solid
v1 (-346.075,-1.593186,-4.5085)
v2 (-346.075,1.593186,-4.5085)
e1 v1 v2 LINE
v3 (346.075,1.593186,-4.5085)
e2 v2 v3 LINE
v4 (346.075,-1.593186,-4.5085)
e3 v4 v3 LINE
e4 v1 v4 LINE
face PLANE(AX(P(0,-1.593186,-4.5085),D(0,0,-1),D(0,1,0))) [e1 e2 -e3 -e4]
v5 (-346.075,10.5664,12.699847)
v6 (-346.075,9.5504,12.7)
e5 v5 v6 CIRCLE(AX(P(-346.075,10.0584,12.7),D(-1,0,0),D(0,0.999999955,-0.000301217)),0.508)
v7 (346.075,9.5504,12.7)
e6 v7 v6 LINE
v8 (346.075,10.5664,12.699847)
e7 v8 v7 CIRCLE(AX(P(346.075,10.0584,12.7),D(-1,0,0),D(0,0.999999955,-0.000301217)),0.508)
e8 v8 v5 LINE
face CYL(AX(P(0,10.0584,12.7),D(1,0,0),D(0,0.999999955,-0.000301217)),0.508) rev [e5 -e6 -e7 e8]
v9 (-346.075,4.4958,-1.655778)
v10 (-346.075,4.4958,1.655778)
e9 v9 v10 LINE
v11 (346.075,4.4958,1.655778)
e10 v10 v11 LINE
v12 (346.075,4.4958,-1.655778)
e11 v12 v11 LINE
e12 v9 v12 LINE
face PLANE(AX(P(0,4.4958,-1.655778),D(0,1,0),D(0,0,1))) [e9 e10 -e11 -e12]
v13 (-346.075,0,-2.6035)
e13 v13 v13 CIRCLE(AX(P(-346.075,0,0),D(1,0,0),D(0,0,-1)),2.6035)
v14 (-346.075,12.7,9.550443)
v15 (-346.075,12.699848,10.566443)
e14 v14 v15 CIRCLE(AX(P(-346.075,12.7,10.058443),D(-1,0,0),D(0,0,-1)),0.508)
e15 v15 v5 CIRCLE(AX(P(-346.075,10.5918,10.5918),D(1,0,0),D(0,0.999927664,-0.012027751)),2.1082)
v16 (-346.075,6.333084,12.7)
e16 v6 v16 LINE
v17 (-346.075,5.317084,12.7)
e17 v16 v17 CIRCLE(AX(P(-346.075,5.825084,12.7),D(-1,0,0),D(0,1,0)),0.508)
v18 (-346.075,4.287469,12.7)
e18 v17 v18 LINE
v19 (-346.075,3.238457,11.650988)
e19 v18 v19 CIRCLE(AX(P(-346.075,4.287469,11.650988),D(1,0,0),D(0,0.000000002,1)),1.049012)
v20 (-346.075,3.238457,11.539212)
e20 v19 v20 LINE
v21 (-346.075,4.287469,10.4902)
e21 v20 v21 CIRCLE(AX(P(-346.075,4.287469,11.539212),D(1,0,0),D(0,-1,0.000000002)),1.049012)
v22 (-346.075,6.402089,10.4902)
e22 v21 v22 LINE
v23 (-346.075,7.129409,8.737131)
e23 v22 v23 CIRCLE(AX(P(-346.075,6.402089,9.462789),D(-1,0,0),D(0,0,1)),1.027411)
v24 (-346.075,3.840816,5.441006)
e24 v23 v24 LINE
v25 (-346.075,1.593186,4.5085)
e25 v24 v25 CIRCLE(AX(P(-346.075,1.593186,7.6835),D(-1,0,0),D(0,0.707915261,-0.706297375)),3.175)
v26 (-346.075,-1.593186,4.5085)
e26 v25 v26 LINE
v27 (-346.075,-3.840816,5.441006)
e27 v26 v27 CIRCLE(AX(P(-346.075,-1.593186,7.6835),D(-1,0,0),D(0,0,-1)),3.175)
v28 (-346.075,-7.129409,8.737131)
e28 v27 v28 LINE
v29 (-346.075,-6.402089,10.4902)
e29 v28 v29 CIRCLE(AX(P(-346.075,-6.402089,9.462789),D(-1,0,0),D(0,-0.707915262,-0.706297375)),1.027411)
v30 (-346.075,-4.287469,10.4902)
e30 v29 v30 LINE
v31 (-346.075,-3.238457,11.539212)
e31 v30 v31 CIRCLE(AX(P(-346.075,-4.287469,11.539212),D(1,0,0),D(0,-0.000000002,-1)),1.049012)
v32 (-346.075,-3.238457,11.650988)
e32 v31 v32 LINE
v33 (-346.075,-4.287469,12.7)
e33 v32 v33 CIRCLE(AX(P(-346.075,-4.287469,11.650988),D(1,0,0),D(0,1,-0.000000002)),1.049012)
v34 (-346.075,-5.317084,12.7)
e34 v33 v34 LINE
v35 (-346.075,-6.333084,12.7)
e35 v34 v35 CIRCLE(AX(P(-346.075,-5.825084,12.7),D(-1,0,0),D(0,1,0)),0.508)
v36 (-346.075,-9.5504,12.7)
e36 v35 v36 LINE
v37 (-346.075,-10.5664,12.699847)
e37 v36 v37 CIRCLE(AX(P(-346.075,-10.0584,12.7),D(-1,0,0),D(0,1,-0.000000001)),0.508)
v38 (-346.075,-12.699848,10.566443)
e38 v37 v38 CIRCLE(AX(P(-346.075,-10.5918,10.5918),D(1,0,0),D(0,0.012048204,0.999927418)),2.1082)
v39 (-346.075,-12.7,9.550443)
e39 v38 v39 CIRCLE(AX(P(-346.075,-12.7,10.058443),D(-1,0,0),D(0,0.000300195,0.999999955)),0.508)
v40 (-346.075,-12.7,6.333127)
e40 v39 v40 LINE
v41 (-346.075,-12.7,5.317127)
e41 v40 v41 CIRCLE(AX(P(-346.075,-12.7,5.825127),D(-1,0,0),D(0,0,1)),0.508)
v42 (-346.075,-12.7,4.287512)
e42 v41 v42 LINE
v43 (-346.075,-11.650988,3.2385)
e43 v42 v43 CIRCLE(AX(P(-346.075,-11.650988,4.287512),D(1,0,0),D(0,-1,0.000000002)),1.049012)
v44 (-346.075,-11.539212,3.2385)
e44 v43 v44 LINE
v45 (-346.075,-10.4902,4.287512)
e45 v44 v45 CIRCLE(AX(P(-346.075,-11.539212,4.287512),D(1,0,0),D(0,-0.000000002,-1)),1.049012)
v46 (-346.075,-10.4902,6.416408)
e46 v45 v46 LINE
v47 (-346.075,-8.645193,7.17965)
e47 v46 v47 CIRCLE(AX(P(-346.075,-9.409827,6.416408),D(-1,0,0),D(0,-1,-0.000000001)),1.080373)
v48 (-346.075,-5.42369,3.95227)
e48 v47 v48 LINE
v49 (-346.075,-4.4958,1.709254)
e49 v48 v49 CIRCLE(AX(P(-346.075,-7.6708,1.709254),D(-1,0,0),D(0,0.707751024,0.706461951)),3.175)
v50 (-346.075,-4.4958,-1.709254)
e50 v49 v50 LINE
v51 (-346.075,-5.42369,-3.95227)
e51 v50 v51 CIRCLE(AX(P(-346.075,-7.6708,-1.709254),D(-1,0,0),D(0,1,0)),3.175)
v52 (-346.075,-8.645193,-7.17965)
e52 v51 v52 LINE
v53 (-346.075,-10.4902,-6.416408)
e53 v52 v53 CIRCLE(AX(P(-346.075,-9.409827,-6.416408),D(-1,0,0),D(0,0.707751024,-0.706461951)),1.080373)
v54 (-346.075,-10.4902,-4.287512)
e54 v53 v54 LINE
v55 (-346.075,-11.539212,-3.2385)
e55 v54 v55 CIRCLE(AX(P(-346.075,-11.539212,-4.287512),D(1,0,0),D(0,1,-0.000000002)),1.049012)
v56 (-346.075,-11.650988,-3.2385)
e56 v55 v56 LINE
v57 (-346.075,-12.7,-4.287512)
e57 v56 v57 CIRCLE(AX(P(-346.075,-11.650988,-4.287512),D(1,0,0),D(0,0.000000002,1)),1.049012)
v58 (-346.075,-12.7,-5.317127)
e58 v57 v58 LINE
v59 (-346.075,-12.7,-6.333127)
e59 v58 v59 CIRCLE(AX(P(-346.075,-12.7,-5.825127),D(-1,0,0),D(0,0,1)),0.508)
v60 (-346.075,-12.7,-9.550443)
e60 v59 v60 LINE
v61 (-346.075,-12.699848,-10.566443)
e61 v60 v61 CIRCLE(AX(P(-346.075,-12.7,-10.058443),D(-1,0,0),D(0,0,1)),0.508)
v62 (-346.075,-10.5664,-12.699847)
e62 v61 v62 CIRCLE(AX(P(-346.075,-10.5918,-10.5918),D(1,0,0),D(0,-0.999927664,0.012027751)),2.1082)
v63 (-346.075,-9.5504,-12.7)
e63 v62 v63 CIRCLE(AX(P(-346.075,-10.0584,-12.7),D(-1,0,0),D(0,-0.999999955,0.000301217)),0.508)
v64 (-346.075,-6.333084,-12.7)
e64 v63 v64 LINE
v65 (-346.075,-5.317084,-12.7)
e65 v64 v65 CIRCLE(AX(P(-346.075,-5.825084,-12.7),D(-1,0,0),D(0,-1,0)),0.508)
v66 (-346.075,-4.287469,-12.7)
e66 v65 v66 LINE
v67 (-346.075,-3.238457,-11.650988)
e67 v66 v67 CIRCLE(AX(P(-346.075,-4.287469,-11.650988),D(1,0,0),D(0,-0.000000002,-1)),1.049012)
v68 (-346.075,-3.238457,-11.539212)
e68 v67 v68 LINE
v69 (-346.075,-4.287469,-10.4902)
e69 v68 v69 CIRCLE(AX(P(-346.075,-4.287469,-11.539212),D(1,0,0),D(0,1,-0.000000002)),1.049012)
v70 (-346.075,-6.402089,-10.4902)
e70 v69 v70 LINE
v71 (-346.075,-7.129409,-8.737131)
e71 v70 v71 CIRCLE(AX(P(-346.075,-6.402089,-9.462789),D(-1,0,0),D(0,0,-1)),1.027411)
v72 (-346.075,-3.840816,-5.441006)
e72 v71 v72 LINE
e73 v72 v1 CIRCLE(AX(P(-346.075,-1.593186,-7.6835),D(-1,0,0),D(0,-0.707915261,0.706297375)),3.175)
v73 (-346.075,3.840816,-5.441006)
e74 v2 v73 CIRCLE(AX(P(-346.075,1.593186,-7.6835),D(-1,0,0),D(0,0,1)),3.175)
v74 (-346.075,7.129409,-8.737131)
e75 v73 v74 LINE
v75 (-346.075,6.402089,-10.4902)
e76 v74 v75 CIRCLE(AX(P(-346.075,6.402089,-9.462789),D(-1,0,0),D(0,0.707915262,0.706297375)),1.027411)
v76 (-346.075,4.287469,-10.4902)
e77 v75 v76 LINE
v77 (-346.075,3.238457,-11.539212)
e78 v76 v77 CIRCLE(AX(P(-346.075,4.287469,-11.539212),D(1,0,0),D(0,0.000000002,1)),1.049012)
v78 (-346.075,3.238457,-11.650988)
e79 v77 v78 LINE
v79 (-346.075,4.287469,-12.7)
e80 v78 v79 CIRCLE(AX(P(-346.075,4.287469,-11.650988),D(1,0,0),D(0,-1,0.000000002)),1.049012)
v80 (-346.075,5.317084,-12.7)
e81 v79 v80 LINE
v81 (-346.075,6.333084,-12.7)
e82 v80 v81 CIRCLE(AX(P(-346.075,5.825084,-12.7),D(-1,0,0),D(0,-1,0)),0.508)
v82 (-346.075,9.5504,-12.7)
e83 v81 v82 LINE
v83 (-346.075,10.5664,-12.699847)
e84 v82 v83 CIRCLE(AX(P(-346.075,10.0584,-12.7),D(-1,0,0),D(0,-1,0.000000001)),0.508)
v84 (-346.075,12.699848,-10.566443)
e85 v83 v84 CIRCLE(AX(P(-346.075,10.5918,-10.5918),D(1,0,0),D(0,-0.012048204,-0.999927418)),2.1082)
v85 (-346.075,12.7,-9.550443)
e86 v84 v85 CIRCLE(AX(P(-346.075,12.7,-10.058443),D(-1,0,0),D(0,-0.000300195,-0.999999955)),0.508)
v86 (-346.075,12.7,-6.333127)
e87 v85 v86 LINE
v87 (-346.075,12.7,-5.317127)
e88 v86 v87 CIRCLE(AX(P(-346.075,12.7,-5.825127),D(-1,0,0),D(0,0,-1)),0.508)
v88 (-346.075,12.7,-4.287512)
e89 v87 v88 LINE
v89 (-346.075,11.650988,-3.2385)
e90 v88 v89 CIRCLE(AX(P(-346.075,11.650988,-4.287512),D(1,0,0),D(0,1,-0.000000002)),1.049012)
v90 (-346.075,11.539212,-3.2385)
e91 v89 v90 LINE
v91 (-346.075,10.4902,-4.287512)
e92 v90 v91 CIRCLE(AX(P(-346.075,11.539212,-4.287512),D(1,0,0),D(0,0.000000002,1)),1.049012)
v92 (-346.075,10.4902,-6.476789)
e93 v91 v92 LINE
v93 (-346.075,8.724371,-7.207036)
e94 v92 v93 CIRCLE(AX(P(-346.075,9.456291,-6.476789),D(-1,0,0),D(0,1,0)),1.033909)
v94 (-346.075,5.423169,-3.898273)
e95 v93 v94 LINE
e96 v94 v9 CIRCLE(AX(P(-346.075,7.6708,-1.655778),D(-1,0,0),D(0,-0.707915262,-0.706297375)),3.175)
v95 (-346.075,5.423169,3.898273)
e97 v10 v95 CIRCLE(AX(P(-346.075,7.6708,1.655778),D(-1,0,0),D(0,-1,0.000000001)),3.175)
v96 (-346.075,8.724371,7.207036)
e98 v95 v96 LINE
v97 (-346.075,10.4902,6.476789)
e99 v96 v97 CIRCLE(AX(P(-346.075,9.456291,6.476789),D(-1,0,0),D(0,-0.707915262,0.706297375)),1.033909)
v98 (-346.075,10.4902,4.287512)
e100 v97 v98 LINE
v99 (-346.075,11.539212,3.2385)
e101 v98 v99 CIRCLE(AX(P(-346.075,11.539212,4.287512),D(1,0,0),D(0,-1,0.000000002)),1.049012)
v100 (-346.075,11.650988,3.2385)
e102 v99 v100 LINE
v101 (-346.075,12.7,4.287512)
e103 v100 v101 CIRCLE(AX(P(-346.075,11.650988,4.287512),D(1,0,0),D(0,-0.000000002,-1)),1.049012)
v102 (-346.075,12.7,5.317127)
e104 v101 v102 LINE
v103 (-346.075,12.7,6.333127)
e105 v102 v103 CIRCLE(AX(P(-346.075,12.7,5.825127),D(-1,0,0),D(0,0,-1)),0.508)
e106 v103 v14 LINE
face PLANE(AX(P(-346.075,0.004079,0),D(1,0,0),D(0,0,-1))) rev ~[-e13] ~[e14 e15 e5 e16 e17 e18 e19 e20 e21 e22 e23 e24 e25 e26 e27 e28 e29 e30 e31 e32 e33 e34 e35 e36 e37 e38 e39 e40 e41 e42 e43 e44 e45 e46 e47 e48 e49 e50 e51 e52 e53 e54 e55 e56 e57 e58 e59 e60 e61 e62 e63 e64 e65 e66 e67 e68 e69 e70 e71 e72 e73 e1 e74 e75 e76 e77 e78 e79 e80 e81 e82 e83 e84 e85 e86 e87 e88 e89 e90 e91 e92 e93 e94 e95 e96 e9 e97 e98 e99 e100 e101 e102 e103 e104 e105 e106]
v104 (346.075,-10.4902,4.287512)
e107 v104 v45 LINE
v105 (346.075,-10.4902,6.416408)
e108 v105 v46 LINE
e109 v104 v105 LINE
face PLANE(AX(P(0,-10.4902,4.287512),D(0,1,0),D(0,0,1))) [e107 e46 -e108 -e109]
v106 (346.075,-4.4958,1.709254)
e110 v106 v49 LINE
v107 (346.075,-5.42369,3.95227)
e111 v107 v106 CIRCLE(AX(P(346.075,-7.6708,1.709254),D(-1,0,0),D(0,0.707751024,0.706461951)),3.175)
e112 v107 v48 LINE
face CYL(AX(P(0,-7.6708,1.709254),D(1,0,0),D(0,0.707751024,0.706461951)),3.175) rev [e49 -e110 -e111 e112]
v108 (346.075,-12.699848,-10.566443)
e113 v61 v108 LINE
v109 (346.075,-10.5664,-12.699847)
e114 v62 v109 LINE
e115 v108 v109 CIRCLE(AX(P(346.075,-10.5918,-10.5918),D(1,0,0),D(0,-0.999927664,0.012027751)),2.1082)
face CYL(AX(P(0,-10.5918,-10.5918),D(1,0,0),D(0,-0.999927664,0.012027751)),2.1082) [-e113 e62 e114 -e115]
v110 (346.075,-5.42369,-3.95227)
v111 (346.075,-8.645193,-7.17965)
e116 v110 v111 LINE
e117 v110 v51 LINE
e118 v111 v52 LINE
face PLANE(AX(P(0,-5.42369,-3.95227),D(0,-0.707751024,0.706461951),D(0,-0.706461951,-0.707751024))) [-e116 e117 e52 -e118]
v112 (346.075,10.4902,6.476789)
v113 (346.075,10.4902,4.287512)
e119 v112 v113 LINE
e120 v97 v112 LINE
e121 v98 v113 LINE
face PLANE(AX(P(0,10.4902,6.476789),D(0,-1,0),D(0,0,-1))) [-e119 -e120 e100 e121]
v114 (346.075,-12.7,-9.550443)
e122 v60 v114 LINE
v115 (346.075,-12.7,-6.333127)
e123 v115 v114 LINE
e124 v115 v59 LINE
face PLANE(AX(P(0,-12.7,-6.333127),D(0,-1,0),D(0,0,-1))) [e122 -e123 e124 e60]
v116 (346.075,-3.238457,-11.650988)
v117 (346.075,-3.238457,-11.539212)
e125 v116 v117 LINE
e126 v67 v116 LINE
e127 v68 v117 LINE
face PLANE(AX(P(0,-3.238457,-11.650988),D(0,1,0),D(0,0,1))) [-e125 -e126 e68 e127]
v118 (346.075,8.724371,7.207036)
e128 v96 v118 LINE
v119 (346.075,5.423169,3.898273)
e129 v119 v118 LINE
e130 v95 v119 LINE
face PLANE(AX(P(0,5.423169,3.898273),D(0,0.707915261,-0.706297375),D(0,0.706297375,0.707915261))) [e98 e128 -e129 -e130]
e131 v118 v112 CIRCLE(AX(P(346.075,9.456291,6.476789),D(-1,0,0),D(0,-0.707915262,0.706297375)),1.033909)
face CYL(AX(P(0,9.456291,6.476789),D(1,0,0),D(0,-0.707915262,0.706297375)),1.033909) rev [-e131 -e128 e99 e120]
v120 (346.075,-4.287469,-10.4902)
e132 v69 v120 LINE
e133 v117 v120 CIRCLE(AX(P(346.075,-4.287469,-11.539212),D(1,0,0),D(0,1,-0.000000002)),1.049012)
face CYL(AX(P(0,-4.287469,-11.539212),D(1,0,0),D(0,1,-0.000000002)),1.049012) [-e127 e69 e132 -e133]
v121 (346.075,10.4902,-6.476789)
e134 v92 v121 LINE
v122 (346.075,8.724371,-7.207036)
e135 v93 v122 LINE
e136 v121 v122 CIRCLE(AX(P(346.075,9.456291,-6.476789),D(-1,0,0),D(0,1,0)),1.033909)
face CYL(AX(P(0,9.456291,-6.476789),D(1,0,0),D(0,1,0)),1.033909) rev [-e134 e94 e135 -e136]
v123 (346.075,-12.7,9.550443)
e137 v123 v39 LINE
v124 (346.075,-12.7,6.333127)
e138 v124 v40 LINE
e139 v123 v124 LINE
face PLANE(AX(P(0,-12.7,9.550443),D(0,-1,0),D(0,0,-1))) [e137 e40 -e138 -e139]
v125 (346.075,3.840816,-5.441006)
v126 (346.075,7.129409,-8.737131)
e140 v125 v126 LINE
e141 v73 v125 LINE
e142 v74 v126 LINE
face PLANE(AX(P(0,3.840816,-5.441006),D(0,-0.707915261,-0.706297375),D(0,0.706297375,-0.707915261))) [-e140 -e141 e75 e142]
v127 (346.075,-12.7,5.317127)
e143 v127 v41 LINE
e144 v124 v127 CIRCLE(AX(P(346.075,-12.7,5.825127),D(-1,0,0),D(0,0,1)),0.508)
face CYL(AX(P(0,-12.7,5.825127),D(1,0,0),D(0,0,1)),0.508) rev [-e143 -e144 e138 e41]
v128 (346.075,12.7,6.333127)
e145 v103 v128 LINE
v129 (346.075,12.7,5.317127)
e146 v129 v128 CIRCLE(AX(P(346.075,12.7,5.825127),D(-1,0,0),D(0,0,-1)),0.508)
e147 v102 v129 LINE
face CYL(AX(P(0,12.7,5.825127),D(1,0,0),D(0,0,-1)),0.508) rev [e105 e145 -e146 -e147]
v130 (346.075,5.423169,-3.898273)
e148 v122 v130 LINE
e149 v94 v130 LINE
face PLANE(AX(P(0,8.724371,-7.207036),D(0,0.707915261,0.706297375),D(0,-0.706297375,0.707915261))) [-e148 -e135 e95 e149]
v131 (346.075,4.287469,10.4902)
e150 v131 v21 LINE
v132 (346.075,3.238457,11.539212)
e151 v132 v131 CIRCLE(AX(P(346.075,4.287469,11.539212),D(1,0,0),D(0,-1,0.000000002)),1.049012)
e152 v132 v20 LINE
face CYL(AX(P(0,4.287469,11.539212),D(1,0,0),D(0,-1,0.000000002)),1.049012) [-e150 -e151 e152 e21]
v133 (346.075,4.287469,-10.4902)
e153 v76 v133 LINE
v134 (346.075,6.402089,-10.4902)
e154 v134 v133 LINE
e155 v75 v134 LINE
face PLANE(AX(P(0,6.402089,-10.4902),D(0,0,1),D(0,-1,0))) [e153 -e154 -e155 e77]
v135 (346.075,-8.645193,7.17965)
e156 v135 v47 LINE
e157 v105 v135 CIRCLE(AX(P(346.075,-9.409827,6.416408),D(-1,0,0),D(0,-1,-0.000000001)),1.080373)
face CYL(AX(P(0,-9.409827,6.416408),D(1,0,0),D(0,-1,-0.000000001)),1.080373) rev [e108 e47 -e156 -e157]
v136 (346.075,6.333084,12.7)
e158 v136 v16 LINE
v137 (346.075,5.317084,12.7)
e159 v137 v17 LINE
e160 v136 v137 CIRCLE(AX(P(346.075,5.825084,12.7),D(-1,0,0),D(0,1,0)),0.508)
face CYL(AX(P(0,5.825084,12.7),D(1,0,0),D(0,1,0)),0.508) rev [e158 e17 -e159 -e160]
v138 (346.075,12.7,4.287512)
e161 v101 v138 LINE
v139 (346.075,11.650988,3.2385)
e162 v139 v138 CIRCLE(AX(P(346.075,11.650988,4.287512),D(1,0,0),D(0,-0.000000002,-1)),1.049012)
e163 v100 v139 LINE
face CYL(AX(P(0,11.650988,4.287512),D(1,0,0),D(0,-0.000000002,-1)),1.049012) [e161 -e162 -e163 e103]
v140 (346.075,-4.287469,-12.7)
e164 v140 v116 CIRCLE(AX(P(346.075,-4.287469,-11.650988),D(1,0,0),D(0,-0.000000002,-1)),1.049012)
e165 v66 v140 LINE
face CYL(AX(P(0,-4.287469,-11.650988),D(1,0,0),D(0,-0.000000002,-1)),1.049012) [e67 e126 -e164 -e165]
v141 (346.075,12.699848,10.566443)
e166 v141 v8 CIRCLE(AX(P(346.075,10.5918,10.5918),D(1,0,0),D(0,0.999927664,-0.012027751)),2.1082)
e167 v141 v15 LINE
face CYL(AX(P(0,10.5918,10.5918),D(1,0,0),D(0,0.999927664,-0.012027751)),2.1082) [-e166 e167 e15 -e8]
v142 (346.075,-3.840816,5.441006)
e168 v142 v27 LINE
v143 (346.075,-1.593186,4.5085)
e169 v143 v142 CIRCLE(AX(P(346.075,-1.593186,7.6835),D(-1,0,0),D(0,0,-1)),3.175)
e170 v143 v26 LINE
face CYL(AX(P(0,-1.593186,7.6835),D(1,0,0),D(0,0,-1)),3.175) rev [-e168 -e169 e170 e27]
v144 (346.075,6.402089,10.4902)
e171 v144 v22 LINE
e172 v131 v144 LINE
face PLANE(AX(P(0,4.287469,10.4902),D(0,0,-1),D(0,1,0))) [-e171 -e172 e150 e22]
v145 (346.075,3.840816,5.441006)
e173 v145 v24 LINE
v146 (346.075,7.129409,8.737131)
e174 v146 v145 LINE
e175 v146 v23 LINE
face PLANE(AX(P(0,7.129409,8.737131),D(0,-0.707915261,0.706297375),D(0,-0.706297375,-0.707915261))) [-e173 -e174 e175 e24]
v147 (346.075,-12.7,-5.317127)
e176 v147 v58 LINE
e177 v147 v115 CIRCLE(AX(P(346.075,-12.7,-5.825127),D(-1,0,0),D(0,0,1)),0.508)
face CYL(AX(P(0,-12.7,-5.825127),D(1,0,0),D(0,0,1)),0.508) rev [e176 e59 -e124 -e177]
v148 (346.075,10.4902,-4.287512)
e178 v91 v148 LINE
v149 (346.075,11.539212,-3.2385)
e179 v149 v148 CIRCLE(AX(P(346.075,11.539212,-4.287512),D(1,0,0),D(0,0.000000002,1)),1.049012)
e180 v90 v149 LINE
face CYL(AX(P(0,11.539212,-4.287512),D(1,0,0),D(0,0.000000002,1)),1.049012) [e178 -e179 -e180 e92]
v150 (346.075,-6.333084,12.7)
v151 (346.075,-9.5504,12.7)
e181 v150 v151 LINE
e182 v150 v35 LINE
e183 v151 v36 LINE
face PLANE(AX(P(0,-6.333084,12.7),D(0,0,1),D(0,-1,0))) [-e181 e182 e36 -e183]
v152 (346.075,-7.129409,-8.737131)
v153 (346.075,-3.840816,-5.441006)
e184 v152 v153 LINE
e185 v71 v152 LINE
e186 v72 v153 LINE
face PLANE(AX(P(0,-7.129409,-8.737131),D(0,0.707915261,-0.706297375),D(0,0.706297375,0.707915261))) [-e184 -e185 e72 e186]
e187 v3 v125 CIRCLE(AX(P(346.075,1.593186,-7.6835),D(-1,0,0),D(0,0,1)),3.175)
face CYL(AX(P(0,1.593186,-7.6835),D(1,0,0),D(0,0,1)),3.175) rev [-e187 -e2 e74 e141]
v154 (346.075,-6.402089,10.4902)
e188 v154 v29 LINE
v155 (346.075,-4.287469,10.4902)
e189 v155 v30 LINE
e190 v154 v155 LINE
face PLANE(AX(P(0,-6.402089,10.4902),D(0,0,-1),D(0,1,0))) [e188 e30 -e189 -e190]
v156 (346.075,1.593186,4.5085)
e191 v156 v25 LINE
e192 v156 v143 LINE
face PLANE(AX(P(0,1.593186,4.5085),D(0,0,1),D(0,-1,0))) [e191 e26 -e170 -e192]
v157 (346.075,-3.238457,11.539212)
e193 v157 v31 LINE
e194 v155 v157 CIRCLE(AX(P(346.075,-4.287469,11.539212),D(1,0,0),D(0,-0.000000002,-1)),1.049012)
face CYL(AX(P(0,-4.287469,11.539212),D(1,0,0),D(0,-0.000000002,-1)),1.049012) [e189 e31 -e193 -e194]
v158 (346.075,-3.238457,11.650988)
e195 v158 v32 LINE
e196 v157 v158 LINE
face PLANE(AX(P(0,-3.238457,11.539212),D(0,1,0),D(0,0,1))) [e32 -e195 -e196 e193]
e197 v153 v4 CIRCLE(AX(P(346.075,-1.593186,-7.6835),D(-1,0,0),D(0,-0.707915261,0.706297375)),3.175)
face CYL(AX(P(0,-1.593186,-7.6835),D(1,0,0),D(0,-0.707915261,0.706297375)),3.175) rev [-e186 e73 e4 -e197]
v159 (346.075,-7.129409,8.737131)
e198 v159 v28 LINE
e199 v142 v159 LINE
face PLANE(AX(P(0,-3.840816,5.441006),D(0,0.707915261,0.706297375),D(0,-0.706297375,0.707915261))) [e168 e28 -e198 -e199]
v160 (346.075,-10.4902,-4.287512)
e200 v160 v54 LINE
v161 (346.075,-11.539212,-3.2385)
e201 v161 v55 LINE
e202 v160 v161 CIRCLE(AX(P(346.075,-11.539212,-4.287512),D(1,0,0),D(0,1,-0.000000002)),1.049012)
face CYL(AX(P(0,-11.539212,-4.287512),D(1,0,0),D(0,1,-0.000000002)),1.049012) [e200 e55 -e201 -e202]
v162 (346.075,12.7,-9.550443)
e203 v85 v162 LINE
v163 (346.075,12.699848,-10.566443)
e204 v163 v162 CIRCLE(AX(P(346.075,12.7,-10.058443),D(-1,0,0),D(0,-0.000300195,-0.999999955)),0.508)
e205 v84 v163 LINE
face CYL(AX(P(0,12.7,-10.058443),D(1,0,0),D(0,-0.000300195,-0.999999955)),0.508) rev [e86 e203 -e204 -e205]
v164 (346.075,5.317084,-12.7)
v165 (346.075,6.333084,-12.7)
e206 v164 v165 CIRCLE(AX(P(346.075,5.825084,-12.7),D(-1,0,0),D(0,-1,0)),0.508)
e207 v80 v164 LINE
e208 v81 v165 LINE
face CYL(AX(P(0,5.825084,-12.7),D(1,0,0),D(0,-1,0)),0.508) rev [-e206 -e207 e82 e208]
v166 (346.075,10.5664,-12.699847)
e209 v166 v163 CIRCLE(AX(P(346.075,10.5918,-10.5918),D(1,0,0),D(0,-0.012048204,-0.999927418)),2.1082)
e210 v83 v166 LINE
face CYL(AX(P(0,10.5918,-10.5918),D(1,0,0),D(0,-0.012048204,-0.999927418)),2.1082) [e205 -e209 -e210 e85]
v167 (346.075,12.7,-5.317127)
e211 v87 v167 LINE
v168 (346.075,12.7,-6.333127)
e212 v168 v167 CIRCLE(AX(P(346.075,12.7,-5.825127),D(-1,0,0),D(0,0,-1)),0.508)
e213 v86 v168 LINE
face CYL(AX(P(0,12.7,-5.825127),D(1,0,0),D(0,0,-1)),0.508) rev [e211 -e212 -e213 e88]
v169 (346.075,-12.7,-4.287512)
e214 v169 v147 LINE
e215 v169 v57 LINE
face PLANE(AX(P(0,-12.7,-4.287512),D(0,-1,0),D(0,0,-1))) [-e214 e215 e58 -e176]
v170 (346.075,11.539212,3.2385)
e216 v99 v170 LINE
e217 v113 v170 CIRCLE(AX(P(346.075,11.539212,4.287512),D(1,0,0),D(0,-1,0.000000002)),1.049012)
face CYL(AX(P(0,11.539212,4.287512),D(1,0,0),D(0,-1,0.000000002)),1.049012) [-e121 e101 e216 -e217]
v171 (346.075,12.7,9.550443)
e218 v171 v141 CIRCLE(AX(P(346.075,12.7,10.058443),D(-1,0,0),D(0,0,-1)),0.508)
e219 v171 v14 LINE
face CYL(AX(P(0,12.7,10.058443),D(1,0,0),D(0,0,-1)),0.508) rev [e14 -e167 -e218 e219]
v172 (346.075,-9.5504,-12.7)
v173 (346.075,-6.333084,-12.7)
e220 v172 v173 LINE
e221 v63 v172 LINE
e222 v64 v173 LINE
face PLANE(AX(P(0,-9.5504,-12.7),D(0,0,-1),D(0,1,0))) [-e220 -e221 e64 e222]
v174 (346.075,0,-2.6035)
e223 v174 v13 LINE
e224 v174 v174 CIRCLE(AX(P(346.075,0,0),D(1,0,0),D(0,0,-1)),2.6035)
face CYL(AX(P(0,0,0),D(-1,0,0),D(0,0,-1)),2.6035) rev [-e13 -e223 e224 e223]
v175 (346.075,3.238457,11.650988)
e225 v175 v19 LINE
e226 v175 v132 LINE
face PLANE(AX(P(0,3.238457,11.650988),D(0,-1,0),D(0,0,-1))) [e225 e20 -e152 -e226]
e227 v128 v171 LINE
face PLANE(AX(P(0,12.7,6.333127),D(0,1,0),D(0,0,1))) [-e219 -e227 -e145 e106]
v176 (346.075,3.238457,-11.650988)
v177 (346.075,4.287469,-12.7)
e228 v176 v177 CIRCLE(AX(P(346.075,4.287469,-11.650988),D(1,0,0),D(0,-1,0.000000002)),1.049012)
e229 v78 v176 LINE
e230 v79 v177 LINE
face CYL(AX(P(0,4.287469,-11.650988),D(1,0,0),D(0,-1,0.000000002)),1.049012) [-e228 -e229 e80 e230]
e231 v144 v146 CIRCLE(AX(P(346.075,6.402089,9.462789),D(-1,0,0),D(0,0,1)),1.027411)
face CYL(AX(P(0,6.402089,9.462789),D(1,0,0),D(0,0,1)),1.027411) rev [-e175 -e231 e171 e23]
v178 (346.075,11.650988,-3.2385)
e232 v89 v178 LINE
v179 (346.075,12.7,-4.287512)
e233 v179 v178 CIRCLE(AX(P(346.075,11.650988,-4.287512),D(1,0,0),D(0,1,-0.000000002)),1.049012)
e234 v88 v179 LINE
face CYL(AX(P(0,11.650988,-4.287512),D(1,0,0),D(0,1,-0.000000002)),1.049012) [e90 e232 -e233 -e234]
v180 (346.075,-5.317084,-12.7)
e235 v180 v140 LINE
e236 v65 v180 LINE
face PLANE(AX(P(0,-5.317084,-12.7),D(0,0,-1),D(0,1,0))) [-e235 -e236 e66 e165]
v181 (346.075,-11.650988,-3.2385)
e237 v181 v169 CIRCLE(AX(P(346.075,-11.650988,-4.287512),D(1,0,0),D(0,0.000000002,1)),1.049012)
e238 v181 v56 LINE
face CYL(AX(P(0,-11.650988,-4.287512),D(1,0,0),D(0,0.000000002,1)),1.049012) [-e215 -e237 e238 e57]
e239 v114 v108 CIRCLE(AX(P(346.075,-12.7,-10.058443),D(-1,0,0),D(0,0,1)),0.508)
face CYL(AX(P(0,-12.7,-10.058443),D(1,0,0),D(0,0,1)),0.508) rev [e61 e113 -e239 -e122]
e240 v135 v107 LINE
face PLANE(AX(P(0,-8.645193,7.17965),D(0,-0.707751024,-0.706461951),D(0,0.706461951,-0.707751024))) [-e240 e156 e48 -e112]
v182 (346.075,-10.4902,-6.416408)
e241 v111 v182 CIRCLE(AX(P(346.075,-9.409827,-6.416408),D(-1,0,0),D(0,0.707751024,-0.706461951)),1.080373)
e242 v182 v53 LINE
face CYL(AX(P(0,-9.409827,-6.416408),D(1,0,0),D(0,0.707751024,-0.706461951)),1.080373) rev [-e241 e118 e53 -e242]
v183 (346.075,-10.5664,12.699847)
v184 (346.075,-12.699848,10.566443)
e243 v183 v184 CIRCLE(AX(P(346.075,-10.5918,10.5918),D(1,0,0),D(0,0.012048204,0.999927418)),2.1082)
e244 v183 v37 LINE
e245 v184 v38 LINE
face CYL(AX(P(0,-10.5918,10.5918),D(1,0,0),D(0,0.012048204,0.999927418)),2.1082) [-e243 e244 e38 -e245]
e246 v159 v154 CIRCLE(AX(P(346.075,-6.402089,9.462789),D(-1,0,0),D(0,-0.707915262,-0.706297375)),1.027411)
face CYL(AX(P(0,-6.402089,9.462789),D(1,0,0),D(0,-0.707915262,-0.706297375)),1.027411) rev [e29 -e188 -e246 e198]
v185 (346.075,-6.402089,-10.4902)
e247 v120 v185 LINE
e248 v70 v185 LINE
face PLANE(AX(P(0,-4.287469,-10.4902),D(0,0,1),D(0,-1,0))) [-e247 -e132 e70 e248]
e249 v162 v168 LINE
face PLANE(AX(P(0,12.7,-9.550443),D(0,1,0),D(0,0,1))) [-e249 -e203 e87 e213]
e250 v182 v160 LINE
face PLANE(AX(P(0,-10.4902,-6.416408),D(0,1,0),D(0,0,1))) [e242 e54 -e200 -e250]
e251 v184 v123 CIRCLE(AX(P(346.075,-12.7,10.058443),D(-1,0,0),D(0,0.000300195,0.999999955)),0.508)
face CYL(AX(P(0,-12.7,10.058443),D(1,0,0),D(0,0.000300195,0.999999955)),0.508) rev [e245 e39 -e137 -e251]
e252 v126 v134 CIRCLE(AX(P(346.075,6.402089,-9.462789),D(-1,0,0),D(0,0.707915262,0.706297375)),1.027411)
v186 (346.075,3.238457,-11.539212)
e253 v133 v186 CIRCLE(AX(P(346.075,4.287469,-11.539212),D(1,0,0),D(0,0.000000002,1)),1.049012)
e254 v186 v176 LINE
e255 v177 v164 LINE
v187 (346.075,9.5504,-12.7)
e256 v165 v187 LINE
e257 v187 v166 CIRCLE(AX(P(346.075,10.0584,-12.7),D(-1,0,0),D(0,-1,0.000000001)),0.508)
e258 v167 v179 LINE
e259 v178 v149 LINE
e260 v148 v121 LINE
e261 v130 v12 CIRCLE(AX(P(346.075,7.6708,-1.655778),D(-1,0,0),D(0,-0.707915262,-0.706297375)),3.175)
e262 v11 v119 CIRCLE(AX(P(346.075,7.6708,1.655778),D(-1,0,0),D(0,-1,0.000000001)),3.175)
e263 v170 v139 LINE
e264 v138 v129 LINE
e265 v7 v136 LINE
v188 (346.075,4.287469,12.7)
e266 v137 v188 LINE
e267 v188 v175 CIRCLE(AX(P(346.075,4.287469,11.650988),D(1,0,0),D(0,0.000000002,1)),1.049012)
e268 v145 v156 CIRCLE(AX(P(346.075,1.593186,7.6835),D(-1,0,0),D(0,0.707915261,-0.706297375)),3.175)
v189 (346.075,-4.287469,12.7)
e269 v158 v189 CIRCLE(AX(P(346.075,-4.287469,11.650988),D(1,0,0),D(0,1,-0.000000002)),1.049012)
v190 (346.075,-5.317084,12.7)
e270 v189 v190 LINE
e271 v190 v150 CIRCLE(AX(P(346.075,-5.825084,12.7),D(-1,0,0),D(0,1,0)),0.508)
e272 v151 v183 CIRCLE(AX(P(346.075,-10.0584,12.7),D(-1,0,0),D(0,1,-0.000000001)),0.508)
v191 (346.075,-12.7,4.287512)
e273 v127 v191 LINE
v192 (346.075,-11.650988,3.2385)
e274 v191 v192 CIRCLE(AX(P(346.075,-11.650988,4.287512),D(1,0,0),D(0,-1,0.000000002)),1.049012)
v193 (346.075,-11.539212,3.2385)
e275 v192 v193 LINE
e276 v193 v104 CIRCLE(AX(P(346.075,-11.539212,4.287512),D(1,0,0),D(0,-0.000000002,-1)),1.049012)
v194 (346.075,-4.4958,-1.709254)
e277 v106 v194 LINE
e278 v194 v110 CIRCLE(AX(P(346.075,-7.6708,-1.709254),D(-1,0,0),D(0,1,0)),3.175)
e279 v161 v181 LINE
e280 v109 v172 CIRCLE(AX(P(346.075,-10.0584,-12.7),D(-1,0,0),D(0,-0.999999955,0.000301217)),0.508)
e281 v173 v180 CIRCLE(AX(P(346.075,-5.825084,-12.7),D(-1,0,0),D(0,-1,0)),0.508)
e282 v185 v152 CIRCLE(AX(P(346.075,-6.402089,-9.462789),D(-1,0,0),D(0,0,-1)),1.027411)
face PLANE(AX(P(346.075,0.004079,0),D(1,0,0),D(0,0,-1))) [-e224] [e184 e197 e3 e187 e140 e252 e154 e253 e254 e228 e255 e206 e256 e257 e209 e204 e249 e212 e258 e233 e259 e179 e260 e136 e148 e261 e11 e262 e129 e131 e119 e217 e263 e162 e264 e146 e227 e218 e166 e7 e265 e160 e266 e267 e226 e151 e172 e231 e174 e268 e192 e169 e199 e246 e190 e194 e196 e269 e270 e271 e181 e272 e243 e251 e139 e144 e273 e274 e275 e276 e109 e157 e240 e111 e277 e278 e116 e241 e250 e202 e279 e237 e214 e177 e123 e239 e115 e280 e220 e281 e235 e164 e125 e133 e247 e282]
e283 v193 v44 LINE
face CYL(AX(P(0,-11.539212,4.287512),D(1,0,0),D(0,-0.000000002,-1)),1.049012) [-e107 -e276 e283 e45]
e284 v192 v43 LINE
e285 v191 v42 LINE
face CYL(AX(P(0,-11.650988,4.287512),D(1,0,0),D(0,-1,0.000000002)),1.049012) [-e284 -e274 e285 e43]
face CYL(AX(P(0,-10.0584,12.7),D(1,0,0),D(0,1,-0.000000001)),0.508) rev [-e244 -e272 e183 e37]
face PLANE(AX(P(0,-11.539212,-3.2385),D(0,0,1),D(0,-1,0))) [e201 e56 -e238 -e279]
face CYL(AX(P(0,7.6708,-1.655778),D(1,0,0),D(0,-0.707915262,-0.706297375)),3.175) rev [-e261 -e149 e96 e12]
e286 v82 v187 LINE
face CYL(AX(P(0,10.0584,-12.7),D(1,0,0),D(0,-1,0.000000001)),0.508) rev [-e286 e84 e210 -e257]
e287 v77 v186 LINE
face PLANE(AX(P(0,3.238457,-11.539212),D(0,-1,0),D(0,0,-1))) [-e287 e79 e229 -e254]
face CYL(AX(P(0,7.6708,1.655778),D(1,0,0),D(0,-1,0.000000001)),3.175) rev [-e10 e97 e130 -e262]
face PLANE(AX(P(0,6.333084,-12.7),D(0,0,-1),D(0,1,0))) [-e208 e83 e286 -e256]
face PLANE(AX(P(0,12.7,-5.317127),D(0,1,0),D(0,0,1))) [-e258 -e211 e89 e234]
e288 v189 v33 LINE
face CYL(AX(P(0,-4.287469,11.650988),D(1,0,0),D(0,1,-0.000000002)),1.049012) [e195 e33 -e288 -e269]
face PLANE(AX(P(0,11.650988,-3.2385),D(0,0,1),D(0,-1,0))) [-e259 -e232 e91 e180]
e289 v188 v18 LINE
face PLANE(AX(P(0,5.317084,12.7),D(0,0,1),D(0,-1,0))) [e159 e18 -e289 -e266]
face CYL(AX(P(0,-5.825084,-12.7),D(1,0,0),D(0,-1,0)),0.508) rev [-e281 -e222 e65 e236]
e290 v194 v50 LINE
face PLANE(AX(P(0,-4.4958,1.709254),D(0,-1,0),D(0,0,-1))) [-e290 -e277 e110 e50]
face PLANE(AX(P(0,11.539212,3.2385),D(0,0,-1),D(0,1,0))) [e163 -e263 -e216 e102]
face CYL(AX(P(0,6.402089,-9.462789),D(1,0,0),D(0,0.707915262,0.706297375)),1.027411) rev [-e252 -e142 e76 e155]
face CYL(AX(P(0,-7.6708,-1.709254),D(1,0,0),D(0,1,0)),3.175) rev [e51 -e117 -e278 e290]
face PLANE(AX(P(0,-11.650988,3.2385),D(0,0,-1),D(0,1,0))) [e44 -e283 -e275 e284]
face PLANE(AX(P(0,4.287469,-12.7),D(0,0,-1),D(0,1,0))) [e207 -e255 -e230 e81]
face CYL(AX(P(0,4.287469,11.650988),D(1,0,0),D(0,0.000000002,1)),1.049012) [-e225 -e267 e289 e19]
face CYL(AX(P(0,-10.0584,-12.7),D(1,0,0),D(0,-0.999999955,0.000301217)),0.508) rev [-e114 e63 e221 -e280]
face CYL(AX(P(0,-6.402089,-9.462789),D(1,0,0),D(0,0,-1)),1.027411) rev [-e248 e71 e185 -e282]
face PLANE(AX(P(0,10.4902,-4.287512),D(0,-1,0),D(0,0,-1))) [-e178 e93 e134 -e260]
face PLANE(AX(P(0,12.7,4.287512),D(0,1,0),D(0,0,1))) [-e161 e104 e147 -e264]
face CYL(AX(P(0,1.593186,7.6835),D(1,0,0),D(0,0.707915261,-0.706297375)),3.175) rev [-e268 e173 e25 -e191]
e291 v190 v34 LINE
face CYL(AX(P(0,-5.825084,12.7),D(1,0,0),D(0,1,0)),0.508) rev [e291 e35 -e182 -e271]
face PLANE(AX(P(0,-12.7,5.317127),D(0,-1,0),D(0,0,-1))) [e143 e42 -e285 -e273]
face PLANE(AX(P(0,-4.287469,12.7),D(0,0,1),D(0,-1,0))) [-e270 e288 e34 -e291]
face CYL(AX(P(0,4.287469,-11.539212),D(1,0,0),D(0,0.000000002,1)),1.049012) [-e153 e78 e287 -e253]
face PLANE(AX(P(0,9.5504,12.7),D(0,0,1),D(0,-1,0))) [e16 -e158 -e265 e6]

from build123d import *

# Parameters (mm, degrees)
SKETCH1_R           = 2.6035
BOSS_EXTRUDE1_DEPTH = 346.075


with BuildPart() as part:
    # Sketch1 → Boss-Extrude1 (new body, symmetric)
    with BuildSketch(Plane(origin=(0, 0, 0), x_dir=(0, 0, -1), z_dir=(1, 0, 0))):
        with BuildLine():
            Line((6.333126718, -12.7), (9.550443118, -12.7))
            ThreePointArc((9.550443118, -12.7), (10.058366869, -12.192000006), (10.566443095, -12.699847501))
            ThreePointArc((10.566443095, -12.699847501), (12.082537762, -12.08250727), (12.699846982, -10.566399977))
            ThreePointArc((12.699846982, -10.566399977), (12.192000006, -10.058323491), (12.7, -9.5504))
            Line((12.7, -9.5504), (12.7, -6.3330836))
            ThreePointArc((12.7, -6.3330836), (12.192, -5.8250836), (12.7, -5.3170836))
            Line((12.7, -5.3170836), (12.7, -4.287469289))
            ThreePointArc((12.7, -4.287469289), (12.39275138, -3.545705502), (11.650987593, -3.238456882))
            Line((11.650987593, -3.238456882), (11.539212407, -3.238456882))
            ThreePointArc((11.539212407, -3.238456882), (10.79744862, -3.545705502), (10.4902, -4.287469289))
            Line((10.4902, -4.287469289), (10.4902, -6.402089023))
            ThreePointArc((10.4902, -6.402089023), (9.856505071, -7.351067942), (8.737131347, -7.129408934))
            Line((8.737131347, -7.129408934), (5.441005833, -3.840816462))
            ThreePointArc((5.441005833, -3.840816462), (4.750877967, -2.809883091), (4.5085, -1.593185507))
            Line((4.5085, -1.593185507), (4.5085, 1.593185507))
            ThreePointArc((4.5085, 1.593185507), (4.750877967, 2.809883091), (5.441005833, 3.840816462))
            Line((5.441005833, 3.840816462), (8.737131347, 7.129408934))
            ThreePointArc((8.737131347, 7.129408934), (9.856505071, 7.351067942), (10.4902, 6.402089023))
            Line((10.4902, 6.402089023), (10.4902, 4.287469289))
            ThreePointArc((10.4902, 4.287469289), (10.79744862, 3.545705502), (11.539212407, 3.238456882))
            Line((11.539212407, 3.238456882), (11.650987593, 3.238456882))
            ThreePointArc((11.650987593, 3.238456882), (12.39275138, 3.545705502), (12.7, 4.287469289))
            Line((12.7, 4.287469289), (12.7, 5.3170836))
            ThreePointArc((12.7, 5.3170836), (12.192, 5.8250836), (12.7, 6.3330836))
            Line((12.7, 6.3330836), (12.7, 9.5504))
            ThreePointArc((12.7, 9.5504), (12.192000006, 10.058323491), (12.699846982, 10.566399977))
            ThreePointArc((12.699846982, 10.566399977), (12.082537762, 12.08250727), (10.566443095, 12.699847501))
            ThreePointArc((10.566443095, 12.699847501), (10.058366869, 12.192000006), (9.550443118, 12.7))
            Line((9.550443118, 12.7), (6.333126718, 12.7))
            ThreePointArc((6.333126718, 12.7), (5.825126718, 12.192), (5.317126718, 12.7))
            Line((5.317126718, 12.7), (4.287512407, 12.7))
            ThreePointArc((4.287512407, 12.7), (3.54574862, 12.39275138), (3.2385, 11.650987593))
            Line((3.2385, 11.650987593), (3.2385, 11.539212407))
            ThreePointArc((3.2385, 11.539212407), (3.54574862, 10.79744862), (4.287512407, 10.4902))
            Line((4.287512407, 10.4902), (6.476788598, 10.4902))
            ThreePointArc((6.476788598, 10.4902), (7.432222385, 9.85140422), (7.207036008, 8.724370562))
            Line((7.207036008, 8.724370562), (3.898272566, 5.423169045))
            ThreePointArc((3.898272566, 5.423169045), (2.869120213, 4.736787962), (1.655778399, 4.4958))
            Line((1.655778399, 4.4958), (-1.655778399, 4.4958))
            ThreePointArc((-1.655778399, 4.4958), (-2.869120213, 4.736787962), (-3.898272566, 5.423169045))
            Line((-3.898272566, 5.423169045), (-7.207036008, 8.724370562))
            ThreePointArc((-7.207036008, 8.724370562), (-7.432222385, 9.85140422), (-6.476788598, 10.4902))
            Line((-6.476788598, 10.4902), (-4.287512407, 10.4902))
            ThreePointArc((-4.287512407, 10.4902), (-3.54574862, 10.79744862), (-3.2385, 11.539212407))
            Line((-3.2385, 11.539212407), (-3.2385, 11.650987593))
            ThreePointArc((-3.2385, 11.650987593), (-3.54574862, 12.39275138), (-4.287512407, 12.7))
            Line((-4.287512407, 12.7), (-5.317126718, 12.7))
            ThreePointArc((-5.317126718, 12.7), (-5.825126718, 12.192), (-6.333126718, 12.7))
            Line((-6.333126718, 12.7), (-9.550443118, 12.7))
            ThreePointArc((-9.550443118, 12.7), (-10.058366869, 12.192000006), (-10.566443095, 12.699847501))
            ThreePointArc((-10.566443095, 12.699847501), (-12.082537762, 12.08250727), (-12.699846982, 10.566399977))
            ThreePointArc((-12.699846982, 10.566399977), (-12.192000006, 10.058323491), (-12.7, 9.5504))
            Line((-12.7, 9.5504), (-12.7, 6.3330836))
            ThreePointArc((-12.7, 6.3330836), (-12.192, 5.8250836), (-12.7, 5.3170836))
            Line((-12.7, 5.3170836), (-12.7, 4.287469289))
            ThreePointArc((-12.7, 4.287469289), (-12.39275138, 3.545705502), (-11.650987593, 3.238456882))
            Line((-11.650987593, 3.238456882), (-11.539212407, 3.238456882))
            ThreePointArc((-11.539212407, 3.238456882), (-10.79744862, 3.545705502), (-10.4902, 4.287469289))
            Line((-10.4902, 4.287469289), (-10.4902, 6.402089023))
            ThreePointArc((-10.4902, 6.402089023), (-9.856505071, 7.351067942), (-8.737131347, 7.129408934))
            Line((-8.737131347, 7.129408934), (-5.441005833, 3.840816462))
            ThreePointArc((-5.441005833, 3.840816462), (-4.750877967, 2.809883091), (-4.5085, 1.593185507))
            Line((-4.5085, 1.593185507), (-4.5085, -1.593185507))
            ThreePointArc((-4.5085, -1.593185507), (-4.750877967, -2.809883091), (-5.441005833, -3.840816462))
            Line((-5.441005833, -3.840816462), (-8.737131347, -7.129408934))
            ThreePointArc((-8.737131347, -7.129408934), (-9.856505071, -7.351067942), (-10.4902, -6.402089023))
            Line((-10.4902, -6.402089023), (-10.4902, -4.287469289))
            ThreePointArc((-10.4902, -4.287469289), (-10.79744862, -3.545705502), (-11.539212407, -3.238456882))
            Line((-11.539212407, -3.238456882), (-11.650987593, -3.238456882))
            ThreePointArc((-11.650987593, -3.238456882), (-12.39275138, -3.545705502), (-12.7, -4.287469289))
            Line((-12.7, -4.287469289), (-12.7, -5.3170836))
            ThreePointArc((-12.7, -5.3170836), (-12.192, -5.8250836), (-12.7, -6.3330836))
            Line((-12.7, -6.3330836), (-12.7, -9.5504))
            ThreePointArc((-12.7, -9.5504), (-12.192000006, -10.058323491), (-12.699846982, -10.566399977))
            ThreePointArc((-12.699846982, -10.566399977), (-12.082537762, -12.08250727), (-10.566443095, -12.699847501))
            ThreePointArc((-10.566443095, -12.699847501), (-10.058366869, -12.192000006), (-9.550443118, -12.7))
            Line((-9.550443118, -12.7), (-6.333126718, -12.7))
            ThreePointArc((-6.333126718, -12.7), (-5.825126718, -12.192), (-5.317126718, -12.7))
            Line((-5.317126718, -12.7), (-4.287512407, -12.7))
            ThreePointArc((-4.287512407, -12.7), (-3.54574862, -12.39275138), (-3.2385, -11.650987593))
            Line((-3.2385, -11.650987593), (-3.2385, -11.539212407))
            ThreePointArc((-3.2385, -11.539212407), (-3.54574862, -10.79744862), (-4.287512407, -10.4902))
            Line((-4.287512407, -10.4902), (-6.416408329, -10.4902))
            ThreePointArc((-6.416408329, -10.4902), (-7.41473083, -9.822813117), (-7.179650497, -8.645192506))
            Line((-7.179650497, -8.645192506), (-3.952270251, -5.423690499))
            ThreePointArc((-3.952270251, -5.423690499), (-2.922936451, -4.736929036), (-1.709253557, -4.4958))
            Line((-1.709253557, -4.4958), (1.709253557, -4.4958))
            ThreePointArc((1.709253557, -4.4958), (2.922936451, -4.736929036), (3.952270251, -5.423690499))
            Line((3.952270251, -5.423690499), (7.179650497, -8.645192506))
            ThreePointArc((7.179650497, -8.645192506), (7.41473083, -9.822813117), (6.416408329, -10.4902))
            Line((6.416408329, -10.4902), (4.287512407, -10.4902))
            ThreePointArc((4.287512407, -10.4902), (3.54574862, -10.79744862), (3.2385, -11.539212407))
            Line((3.2385, -11.539212407), (3.2385, -11.650987593))
            ThreePointArc((3.2385, -11.650987593), (3.54574862, -12.39275138), (4.287512407, -12.7))
            Line((4.287512407, -12.7), (5.317126718, -12.7))
            ThreePointArc((5.317126718, -12.7), (5.825126718, -12.192), (6.333126718, -12.7))
        make_face()
        Circle(SKETCH1_R, mode=Mode.SUBTRACT)
    extrude(amount=BOSS_EXTRUDE1_DEPTH, both=True)


solid = part.part
